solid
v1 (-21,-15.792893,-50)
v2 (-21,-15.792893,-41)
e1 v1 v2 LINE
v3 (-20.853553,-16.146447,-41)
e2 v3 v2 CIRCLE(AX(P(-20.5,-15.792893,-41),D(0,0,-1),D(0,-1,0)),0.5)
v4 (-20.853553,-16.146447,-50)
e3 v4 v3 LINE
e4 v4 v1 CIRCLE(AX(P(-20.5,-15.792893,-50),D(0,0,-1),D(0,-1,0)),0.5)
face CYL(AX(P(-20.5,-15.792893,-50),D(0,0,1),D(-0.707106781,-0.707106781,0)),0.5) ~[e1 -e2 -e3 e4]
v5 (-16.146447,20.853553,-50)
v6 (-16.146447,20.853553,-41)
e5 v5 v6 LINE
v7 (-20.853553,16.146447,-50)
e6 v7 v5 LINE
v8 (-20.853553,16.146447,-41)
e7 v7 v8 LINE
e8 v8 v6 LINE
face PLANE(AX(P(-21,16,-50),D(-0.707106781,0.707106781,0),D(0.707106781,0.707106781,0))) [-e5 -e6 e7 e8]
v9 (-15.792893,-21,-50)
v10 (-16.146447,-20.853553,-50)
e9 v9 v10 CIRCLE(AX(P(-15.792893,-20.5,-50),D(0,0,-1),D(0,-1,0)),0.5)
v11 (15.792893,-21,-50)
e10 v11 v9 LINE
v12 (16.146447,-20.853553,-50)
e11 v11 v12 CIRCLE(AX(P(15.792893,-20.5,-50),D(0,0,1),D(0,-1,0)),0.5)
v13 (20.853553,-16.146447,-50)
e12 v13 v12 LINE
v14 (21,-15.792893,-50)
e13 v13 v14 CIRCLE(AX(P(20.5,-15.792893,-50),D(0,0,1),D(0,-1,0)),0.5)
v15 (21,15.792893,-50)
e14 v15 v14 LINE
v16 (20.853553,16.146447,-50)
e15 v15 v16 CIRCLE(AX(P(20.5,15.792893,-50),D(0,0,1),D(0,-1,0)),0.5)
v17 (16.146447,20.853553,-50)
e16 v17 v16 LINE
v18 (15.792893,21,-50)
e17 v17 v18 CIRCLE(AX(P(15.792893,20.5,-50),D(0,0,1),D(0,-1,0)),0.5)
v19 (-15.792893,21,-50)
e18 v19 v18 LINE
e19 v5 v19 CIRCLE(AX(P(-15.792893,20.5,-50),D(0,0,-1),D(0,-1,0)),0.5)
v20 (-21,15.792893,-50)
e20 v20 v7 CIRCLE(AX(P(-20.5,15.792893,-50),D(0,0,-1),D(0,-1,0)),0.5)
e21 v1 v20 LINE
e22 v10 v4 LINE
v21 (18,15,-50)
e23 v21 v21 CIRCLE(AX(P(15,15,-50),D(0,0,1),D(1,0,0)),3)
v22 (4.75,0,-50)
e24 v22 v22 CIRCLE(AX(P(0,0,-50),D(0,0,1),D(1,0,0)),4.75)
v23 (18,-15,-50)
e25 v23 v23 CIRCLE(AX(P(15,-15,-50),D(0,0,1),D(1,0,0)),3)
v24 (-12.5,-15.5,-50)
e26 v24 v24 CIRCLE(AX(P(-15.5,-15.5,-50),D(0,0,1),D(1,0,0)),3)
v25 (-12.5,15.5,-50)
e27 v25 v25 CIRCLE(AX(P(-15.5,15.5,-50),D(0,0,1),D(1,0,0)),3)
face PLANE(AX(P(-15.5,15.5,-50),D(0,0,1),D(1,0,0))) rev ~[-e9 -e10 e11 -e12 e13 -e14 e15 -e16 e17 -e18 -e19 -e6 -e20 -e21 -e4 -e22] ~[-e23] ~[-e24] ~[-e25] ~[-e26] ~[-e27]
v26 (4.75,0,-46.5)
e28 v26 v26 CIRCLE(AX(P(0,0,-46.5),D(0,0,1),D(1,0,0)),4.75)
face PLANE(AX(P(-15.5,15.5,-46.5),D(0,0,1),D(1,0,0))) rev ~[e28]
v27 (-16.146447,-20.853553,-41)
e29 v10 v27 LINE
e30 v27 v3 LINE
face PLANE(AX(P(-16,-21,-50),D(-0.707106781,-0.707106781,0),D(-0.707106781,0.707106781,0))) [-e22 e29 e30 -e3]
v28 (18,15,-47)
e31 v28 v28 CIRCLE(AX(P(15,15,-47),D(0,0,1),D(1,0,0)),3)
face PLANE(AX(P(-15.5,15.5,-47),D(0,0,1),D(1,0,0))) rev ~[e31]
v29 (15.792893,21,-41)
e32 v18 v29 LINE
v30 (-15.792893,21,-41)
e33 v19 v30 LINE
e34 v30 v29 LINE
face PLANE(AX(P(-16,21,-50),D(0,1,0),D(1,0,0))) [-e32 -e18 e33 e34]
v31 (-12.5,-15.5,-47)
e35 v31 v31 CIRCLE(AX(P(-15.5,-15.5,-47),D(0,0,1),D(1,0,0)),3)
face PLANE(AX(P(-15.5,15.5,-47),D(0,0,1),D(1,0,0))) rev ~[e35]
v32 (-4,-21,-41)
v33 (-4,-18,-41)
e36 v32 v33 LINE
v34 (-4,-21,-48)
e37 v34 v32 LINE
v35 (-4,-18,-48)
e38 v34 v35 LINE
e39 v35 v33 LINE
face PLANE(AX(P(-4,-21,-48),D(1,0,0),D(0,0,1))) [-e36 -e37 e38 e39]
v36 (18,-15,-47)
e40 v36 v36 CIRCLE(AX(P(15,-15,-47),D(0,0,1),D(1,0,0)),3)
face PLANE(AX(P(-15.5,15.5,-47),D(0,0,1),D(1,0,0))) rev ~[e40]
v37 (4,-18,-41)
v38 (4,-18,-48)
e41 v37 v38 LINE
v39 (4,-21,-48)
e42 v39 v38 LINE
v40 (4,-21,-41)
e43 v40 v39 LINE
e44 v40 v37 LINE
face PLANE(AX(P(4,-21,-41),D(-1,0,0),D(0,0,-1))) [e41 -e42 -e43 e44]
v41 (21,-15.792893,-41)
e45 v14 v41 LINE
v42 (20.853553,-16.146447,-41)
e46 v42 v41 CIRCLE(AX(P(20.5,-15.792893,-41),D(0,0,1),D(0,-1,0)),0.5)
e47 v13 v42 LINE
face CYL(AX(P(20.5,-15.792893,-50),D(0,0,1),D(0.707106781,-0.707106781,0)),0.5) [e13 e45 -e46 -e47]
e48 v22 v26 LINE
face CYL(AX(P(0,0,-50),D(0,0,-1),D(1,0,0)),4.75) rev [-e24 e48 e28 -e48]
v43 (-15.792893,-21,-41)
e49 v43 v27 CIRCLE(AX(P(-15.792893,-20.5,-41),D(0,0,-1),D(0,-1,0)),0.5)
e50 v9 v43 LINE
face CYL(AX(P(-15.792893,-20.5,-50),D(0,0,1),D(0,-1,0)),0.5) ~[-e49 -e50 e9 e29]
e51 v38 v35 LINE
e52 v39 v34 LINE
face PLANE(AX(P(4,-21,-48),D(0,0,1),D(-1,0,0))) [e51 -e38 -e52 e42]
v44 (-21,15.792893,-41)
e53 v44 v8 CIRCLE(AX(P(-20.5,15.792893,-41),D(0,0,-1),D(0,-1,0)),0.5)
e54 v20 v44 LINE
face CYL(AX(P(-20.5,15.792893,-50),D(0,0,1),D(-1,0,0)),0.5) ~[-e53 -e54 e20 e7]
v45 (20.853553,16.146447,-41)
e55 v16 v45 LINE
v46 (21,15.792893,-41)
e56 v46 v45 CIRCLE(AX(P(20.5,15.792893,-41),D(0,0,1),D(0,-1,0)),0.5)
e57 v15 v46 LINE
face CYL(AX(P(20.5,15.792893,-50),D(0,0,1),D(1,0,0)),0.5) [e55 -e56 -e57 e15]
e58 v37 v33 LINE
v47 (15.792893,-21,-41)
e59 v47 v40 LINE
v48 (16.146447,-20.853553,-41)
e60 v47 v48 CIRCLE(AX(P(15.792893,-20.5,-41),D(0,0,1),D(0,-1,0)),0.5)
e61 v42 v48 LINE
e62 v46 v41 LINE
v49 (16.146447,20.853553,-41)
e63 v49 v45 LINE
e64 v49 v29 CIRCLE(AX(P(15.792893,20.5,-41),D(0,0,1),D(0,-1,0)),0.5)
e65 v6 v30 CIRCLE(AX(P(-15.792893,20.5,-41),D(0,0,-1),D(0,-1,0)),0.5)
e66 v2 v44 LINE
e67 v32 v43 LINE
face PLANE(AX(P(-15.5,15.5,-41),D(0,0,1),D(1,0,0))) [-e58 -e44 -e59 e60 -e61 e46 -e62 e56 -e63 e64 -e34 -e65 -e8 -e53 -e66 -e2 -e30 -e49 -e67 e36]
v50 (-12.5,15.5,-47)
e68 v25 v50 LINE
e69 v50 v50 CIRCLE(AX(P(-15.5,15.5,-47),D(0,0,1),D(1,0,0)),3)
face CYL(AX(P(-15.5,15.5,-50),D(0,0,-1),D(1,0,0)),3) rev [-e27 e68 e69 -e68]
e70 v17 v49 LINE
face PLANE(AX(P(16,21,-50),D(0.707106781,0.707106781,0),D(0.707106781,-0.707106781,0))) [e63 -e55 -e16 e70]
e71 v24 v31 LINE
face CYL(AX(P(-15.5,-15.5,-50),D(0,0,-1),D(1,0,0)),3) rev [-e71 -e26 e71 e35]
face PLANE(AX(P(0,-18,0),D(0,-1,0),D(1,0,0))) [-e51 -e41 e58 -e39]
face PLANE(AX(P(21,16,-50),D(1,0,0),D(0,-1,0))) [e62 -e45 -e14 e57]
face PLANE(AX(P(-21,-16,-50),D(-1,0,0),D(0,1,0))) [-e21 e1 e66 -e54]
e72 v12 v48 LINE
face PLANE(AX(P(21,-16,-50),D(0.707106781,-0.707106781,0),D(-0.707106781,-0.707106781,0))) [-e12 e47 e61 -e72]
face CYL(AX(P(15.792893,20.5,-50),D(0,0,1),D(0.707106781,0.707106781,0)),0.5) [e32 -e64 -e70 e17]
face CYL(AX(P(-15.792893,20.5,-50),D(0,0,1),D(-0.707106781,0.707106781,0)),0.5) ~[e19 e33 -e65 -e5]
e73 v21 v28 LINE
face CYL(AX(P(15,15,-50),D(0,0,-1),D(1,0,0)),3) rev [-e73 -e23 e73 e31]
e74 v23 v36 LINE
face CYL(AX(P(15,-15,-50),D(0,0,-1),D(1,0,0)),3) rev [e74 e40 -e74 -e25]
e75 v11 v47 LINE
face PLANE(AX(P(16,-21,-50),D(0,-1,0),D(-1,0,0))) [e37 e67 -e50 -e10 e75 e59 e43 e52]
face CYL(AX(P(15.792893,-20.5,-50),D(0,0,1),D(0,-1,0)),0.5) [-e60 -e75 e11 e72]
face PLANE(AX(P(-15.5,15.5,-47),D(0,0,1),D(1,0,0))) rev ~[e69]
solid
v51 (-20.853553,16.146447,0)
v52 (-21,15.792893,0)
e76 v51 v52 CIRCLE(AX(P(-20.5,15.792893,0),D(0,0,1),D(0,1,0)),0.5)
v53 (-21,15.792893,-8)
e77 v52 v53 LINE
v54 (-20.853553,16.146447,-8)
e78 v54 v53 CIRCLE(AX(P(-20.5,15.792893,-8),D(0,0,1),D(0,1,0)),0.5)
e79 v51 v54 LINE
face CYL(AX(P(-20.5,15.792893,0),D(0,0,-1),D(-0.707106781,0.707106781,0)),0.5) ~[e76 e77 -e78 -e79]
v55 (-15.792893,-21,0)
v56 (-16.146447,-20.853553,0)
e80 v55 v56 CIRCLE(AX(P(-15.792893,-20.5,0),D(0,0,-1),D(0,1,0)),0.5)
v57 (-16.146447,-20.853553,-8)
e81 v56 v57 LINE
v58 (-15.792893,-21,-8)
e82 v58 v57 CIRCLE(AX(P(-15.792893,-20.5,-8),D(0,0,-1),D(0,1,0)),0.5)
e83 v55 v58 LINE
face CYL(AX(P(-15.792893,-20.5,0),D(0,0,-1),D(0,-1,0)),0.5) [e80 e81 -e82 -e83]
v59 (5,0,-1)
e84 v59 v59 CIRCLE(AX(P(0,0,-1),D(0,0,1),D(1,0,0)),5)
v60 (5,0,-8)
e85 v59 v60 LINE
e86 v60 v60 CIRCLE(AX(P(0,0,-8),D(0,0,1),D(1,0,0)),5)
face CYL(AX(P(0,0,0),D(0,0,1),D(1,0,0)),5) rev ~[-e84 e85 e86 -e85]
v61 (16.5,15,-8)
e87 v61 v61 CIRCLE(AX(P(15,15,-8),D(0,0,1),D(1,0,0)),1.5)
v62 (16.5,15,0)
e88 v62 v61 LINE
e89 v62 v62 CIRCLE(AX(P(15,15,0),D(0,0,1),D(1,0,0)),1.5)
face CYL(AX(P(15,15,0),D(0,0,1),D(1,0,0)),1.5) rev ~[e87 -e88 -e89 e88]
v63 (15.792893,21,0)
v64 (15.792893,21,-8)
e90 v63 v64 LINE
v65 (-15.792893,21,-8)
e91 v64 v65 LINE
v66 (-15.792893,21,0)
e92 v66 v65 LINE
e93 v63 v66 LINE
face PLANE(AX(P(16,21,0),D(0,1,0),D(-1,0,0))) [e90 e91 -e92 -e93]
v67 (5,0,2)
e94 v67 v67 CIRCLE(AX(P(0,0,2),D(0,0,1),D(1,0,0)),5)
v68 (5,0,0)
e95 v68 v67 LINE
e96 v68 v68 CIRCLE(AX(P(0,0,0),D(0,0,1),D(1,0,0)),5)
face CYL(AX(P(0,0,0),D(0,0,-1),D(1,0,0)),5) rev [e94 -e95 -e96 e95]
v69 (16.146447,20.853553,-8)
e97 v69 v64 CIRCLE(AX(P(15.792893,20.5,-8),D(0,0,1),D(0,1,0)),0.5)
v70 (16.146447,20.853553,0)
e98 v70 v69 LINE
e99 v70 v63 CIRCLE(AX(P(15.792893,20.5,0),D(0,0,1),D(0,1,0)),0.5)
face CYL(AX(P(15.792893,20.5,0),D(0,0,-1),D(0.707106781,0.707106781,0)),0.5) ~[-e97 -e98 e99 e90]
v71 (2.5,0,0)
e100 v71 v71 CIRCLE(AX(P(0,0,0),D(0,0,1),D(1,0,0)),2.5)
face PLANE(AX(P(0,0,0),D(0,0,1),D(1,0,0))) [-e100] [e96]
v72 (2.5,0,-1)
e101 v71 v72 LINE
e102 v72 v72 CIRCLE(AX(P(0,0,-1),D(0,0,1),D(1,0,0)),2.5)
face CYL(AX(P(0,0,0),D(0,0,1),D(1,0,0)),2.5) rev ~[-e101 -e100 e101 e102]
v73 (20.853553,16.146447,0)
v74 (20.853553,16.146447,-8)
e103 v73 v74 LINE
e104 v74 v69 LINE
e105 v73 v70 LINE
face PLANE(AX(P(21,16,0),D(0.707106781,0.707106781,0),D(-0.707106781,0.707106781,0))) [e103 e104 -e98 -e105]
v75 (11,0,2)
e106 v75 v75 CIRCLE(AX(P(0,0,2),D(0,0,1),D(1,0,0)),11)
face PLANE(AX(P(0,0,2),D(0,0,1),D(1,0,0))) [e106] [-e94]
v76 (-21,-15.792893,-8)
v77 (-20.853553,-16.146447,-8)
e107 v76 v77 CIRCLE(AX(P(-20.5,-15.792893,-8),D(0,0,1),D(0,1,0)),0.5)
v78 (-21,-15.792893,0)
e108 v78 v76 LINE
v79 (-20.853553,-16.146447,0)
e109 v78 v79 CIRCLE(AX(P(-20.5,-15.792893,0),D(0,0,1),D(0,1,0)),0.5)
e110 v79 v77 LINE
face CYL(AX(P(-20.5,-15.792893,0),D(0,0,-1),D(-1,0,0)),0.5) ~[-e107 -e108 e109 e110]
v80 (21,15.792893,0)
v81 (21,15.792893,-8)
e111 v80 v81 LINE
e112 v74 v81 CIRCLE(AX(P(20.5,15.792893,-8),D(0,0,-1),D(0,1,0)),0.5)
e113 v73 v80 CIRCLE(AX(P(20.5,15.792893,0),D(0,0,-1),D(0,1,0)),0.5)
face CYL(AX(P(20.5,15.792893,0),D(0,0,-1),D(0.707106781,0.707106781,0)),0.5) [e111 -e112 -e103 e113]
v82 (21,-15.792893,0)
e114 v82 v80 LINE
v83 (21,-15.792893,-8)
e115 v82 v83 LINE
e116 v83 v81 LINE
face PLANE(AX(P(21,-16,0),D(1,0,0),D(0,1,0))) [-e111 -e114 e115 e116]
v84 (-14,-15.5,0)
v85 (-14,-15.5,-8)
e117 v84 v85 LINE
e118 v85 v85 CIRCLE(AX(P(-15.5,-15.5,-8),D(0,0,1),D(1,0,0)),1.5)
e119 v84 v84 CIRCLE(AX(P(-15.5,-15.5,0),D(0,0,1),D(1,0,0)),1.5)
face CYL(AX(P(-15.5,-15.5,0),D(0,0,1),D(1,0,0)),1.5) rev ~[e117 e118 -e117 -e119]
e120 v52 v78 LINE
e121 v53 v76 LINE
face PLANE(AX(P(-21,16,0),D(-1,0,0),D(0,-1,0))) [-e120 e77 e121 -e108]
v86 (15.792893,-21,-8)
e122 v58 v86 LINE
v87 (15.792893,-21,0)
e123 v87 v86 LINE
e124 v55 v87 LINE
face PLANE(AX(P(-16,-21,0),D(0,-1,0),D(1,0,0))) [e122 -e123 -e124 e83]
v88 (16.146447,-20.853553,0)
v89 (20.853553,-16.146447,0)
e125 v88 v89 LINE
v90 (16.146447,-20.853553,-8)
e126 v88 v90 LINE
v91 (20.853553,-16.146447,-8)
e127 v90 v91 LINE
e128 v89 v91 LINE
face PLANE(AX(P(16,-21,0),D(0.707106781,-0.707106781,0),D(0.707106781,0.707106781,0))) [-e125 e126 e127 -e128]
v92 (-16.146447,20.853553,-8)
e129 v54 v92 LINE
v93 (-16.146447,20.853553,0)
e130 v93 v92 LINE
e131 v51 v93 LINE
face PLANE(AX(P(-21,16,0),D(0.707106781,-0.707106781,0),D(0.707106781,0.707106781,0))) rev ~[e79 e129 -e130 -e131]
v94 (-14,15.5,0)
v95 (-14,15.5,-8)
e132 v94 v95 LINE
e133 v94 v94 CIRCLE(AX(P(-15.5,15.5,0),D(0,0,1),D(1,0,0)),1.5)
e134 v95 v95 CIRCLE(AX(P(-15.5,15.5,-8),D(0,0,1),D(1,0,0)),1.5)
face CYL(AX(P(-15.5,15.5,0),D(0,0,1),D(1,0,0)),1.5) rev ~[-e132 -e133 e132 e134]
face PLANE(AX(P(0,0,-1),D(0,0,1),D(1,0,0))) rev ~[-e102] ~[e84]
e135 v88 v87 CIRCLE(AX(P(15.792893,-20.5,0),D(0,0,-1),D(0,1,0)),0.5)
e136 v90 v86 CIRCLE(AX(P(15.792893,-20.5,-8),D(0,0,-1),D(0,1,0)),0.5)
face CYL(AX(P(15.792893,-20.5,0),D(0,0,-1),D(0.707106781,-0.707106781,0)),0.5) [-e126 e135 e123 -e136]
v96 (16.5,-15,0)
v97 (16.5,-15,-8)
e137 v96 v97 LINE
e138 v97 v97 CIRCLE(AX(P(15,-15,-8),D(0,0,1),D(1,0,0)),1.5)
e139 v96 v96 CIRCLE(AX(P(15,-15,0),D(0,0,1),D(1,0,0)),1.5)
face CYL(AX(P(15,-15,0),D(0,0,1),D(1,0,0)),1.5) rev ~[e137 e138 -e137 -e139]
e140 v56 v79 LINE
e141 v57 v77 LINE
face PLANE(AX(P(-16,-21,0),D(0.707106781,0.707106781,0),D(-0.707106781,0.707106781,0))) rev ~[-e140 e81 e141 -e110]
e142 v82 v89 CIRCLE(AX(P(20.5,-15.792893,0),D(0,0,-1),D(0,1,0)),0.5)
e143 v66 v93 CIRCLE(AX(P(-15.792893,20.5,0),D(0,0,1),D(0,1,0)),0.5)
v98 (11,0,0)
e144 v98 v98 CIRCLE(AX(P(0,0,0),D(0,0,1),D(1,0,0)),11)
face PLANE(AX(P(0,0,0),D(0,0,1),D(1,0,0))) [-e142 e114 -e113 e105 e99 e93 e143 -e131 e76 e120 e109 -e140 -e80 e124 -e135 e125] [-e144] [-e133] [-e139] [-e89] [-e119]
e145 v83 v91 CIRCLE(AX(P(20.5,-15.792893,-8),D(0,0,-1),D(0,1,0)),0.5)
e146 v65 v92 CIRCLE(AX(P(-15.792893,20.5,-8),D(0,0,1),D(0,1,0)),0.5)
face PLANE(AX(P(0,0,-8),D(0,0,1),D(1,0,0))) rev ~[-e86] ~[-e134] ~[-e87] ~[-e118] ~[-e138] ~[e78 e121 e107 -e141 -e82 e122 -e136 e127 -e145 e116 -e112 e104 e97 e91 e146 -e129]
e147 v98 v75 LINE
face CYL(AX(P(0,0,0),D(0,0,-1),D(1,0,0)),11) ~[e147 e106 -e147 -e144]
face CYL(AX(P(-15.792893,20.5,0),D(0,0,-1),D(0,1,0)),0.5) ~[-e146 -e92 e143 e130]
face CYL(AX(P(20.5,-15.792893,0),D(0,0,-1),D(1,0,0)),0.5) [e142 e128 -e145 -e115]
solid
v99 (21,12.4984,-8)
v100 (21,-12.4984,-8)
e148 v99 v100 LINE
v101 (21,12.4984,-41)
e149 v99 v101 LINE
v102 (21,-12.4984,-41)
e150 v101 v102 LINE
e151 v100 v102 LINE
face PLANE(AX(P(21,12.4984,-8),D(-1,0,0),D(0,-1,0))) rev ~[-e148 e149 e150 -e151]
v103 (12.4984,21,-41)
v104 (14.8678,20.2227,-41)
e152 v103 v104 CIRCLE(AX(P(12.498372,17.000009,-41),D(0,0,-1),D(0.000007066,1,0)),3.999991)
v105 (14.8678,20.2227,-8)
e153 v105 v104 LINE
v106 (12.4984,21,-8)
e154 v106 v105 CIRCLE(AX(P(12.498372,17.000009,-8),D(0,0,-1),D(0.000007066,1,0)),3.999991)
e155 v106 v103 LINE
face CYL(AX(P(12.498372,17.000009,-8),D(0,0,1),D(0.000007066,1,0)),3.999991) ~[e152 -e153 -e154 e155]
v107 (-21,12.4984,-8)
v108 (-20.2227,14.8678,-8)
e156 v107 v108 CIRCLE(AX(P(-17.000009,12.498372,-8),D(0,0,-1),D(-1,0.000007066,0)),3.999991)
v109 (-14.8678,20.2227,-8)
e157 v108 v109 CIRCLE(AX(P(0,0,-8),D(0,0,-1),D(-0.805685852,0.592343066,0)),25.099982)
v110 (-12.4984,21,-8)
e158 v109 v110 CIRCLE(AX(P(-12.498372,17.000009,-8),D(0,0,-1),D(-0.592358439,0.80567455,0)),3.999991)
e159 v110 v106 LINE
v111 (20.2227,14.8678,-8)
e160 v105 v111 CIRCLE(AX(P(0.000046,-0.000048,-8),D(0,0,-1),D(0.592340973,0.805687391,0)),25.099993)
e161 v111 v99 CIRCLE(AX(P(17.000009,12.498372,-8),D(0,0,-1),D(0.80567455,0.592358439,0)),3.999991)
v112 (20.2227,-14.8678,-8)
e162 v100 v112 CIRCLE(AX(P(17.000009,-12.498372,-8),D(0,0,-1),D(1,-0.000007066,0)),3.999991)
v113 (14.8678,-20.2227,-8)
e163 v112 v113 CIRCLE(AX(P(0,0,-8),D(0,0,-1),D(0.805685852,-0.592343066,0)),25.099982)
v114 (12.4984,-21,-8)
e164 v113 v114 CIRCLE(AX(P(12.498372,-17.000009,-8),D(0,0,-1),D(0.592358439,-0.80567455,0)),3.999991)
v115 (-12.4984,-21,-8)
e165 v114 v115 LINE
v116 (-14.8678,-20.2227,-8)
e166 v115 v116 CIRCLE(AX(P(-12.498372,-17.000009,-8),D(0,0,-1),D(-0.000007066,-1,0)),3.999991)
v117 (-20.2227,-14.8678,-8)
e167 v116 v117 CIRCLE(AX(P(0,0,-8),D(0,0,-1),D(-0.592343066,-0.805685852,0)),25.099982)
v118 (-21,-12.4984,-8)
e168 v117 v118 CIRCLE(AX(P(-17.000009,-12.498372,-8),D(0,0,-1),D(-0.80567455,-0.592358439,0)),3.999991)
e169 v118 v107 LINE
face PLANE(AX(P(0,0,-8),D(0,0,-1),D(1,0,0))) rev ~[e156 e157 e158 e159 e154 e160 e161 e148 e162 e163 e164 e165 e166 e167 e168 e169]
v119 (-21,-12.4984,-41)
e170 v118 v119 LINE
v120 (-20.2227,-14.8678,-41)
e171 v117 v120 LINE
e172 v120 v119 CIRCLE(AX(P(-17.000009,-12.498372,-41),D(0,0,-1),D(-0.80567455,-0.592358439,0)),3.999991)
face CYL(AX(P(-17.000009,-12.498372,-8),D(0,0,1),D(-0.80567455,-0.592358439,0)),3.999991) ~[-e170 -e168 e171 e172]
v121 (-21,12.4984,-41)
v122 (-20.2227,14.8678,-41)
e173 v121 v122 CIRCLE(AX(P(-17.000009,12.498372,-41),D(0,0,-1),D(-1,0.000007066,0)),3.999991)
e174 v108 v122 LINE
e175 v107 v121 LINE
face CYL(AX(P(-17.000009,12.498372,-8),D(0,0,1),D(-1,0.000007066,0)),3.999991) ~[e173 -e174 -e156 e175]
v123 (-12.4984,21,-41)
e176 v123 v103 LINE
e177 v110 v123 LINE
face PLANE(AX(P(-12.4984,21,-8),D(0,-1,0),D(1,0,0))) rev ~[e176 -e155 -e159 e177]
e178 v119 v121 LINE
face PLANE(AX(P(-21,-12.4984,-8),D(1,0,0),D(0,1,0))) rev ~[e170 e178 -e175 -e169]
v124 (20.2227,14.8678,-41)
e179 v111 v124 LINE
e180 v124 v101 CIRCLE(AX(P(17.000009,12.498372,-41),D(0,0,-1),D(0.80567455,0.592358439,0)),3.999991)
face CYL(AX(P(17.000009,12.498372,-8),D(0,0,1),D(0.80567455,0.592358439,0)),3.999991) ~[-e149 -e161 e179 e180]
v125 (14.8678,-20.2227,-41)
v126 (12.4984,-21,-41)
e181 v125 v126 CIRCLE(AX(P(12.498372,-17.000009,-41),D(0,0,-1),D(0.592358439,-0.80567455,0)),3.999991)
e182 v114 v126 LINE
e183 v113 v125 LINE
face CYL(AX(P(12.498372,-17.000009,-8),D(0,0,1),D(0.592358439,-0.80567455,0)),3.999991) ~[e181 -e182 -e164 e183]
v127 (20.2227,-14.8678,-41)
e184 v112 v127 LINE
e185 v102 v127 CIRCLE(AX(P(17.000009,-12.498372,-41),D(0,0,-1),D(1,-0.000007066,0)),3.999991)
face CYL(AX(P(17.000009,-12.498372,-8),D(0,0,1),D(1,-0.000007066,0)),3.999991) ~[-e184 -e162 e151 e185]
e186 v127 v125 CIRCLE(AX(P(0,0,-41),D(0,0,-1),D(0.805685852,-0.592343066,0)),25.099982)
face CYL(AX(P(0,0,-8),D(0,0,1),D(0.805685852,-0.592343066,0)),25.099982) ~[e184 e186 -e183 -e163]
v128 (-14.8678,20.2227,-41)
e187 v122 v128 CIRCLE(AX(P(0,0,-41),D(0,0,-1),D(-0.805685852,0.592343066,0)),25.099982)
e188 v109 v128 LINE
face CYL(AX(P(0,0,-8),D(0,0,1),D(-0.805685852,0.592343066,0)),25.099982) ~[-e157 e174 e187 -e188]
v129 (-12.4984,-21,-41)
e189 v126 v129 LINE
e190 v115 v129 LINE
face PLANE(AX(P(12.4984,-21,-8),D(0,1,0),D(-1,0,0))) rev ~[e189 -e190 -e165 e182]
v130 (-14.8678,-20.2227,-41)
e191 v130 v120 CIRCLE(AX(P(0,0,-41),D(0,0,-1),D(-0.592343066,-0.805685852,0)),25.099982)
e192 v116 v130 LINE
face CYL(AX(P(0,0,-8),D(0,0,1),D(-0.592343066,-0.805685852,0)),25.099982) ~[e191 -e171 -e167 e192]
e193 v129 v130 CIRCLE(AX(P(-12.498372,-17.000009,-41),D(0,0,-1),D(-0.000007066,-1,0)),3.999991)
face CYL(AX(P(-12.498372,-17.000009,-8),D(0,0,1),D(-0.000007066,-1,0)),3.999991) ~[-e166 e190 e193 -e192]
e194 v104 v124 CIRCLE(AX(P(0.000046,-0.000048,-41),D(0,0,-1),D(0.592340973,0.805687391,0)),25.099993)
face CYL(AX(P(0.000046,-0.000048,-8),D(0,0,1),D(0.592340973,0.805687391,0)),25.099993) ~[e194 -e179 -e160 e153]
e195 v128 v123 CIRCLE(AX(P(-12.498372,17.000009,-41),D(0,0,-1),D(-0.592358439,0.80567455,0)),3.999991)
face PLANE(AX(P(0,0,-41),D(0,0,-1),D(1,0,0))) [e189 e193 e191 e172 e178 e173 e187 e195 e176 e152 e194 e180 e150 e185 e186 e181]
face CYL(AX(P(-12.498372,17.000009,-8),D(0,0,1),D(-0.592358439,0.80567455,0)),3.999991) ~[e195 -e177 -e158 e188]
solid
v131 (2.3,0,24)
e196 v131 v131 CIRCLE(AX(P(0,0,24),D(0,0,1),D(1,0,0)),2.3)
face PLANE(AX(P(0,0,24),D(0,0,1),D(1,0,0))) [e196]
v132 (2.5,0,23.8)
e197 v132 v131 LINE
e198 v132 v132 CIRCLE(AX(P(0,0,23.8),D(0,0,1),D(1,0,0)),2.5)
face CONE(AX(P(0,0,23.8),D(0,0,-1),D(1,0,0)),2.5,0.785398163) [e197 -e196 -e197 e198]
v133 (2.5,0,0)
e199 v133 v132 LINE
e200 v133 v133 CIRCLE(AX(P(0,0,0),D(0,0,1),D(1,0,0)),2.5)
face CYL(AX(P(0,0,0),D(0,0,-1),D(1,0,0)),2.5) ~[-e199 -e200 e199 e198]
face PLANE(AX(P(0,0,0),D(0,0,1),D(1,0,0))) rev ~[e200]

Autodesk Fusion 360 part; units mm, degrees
sketch "Sketch1" plane through (0, 0, 0) normal (0, 0, 1) x (1, 0, 0) in component "Component"
  line L0 (16, 21) -> (-16, 21)
  line L1 (-21, 16) -> (-21, -16)
  line L2 (-16, -21) -> (16, -21)
  line L3 (21, -16) -> (21, 16)
  line L4 (21, 21) -> (-21, -21) construction
  line L5 (-21, 21) -> (21, -21) construction
  line L6 (-15.6506, 22.8547) -> (-16, 22.8547)
  line L7 (-21, 16) -> (-16, 21)
  line L8 (21, 16) -> (16, 21)
  line L9 (-16, -21) -> (-21, -16)
  line L10 (16, -21) -> (21, -16)
  circle A0 centre (-15.5, 15.5) radius 1.5
  circle A1 centre (15, 15) radius 1.5
  circle A2 centre (15, -15) radius 1.5
  circle A3 centre (-15.5, -15.5) radius 1.5
  circle A4 centre (0, 0) radius 11
  circle A5 centre (0, 0) radius 5
  circle A6 centre (0, 0) radius 2.5
  dimension "d3" = 3
  dimension "d4" = 15.5
  dimension "d5" = 15.5
  dimension "d6" = 5
extrude "Extrude1" add sketch "Sketch1" along normal blind 2 contours A4 makes body 1 in component "Component"
extrude "Extrude2" add sketch "Sketch1" along normal blind 24 separate body contours A6 makes body 2 in component "Component"
extrude "Extrude3" add sketch "Sketch1" against normal blind 1 separate body contours A5 makes body 3 in component "Component"
extrude "Extrude4" add sketch "Sketch1" against normal blind 8 contours L0 L1 L2 L3 L7 L8 L9 L10 | A4 bodies 1 3 in component "Component"
sketch "Sketch2" plane through (0, 0, -8) normal (0, 0, -1) x (1, 0, 0) in component "Component"
  circle A0 centre (15, 15) radius 1.5
  circle A1 centre (15, -15) radius 1.5
  circle A2 centre (0, 0) radius 5
  circle A3 centre (-15.5, 15.5) radius 1.5
  circle A4 centre (-15.5, -15.5) radius 1.5
  line L0 (16, 21) -> (-16, 21)
  line L1 (-16, 21) -> (-21, 16)
  line L2 (-21, 16) -> (-21, -16)
  line L3 (-21, -16) -> (-16, -21)
  line L4 (-16, -21) -> (16, -21)
  line L5 (16, -21) -> (21, -16)
  line L6 (21, -16) -> (21, 16)
  line L7 (21, 16) -> (16, 21)
  line L8 (12.4984, 21) -> (-12.4984, 21)
  line L9 (-21, 12.4984) -> (-21, -12.4984)
  line L10 (-12.4984, -21) -> (12.4984, -21)
  line L11 (21, -12.4984) -> (21, 12.4984)
  line L12 (21, 21) -> (-21, -21) construction
  line L13 (-21, 21) -> (21, -21) construction
  arc A5 (-14.8678, 20.2227) -> (-20.2227, 14.8678) centre (0, 0) ccw
  arc A6 (20.2227, 14.8678) -> (14.8678, 20.2227) centre (0, 0) ccw
  arc A7 (-20.2227, -14.8678) -> (-14.8678, -20.2227) centre (0, 0) ccw
  arc A8 (14.8678, -20.2227) -> (21, -13.7481) centre (0, 0) ccw
  arc A9 (-12.4984, 21) -> (-14.8678, 20.2227) centre (-12.4984, 17) ccw
  arc A10 (-20.2227, 14.8678) -> (-21, 12.4984) centre (-17, 12.4984) ccw
  arc A11 (14.8678, 20.2227) -> (12.4984, 21) centre (12.4984, 17) ccw
  arc A12 (20.2227, -14.8678) -> (21, -12.4984) centre (17, -12.4984) ccw
  arc A13 (21, 12.4984) -> (20.2227, 14.8678) centre (17, 12.4984) ccw
  arc A14 (12.4984, -21) -> (14.8678, -20.2227) centre (12.4984, -17) ccw
  arc A15 (-14.8678, -20.2227) -> (-12.4984, -21) centre (-12.4984, -17) ccw
  arc A16 (-21, -12.4984) -> (-20.2227, -14.8678) centre (-17, -12.4984) ccw
  dimension "d15" = 42
  dimension "d16" = 42
  dimension "d17" = 50.2
  dimension "d18" = 4
  dimension "d19" = 4
  dimension "d20" = 4
  dimension "d21" = 4
  dimension "d22" = 4
  dimension "d23" = 4
  dimension "d24" = 4
  dimension "d25" = 4
extrude "Extrude5" add sketch "Sketch2" along normal blind 33 separate body contours A0 | A1 | A2 | A3 | A4 | L0 L2 L4 L6 L8 L9 L10 L11 A5 A6 A7 A8 A9 A10 A11 A12 A13 A14 A15 A16 makes body 4 in component "Component"
ref_plane "WorkPlane1" through (0, 0, -50) normal (0, 0, 1) x (1, 0, 0) in component "Component"
sketch "Sketch3" plane through (-15.5, 15.5, -50) normal (0, 0, 1) x (1, 0, 0) in component "Component"
  circle A0 centre (15.5, -15.5) radius 4.75
  line L0 (31.5, -36.5) -> (-0.5, -36.5)
  line L1 (-0.5, -36.5) -> (-5.5, -31.5)
  line L2 (-5.5, -31.5) -> (-5.5, 0.5)
  line L3 (-5.5, 0.5) -> (-0.5, 5.5)
  line L4 (-0.5, 5.5) -> (31.5, 5.5)
  line L5 (31.5, 5.5) -> (36.5, 0.5)
  line L6 (36.5, 0.5) -> (36.5, -31.5)
  line L7 (36.5, -31.5) -> (31.5, -36.5)
  circle A1 centre (30.5, -30.5) radius 3
  circle A2 centre (30.5, -0.5) radius 3
  circle A3 centre (0, -31) radius 3
  circle A4 centre (0, 0) radius 3
  dimension "d29" = 6
  dimension "d30" = 6
  dimension "d31" = 6
  dimension "d32" = 6
  dimension "d33" = 9.5
extrude "Extrude6" add sketch "Sketch3" along normal blind 9 separate body contours A0 | L0 L1 L2 L3 L4 L5 L6 L7 | A1 | A2 | A3 | A4 makes body 5 in component "Component"
extrude "Extrude8" cut sketch "Sketch3" along normal blind 3 contours A1 | A2 | A3 | A4 bodies 5 in component "Component"
extrude "Extrude9" cut sketch "Sketch3" along normal blind 3.5 contours A0 bodies 5 in component "Component"
chamfer "Chamfer1" distance 0.2 angle 45 1 edges at (-2.3308, -0.904, 24) on bodies 2 in component "Component"
fillet "Fillet1" radius 0.5 16 edges at (16, 21, -4) (21, 16, -4) (21, -16, -4) (16, -21, -4) (-16, -21, -4) (-21, -16, -4) (-21, 16, -4) (-16, 21, -4) (16, 21, -45.5) (21, 16, -45.5) (21, -16, -45.5) (16, -21, -45.5) (-21, -16, -45.5) (-16, -21, -45.5) (-16, 21, -45.5) (-21, 16, -45.5) on bodies 1 5 in component "Component"
sketch "Sketch4" plane through (0, -21, 0) normal (0, -1, 0) x (1, 0, 0) in component "Component"
  line L0 (-15.7929, -41) -> (-15.7929, -50)
  line L1 (-15.7929, -50) -> (15.7929, -50)
  line L2 (15.7929, -50) -> (15.7929, -41)
  line L3 (15.7929, -41) -> (-15.7929, -41)
  line L4 (-4, -41) -> (4, -41)
  line L5 (4, -41) -> (4, -48)
  line L6 (4, -48) -> (-4, -48)
  line L7 (-4, -48) -> (-4, -41)
  line L8 (0, -50) -> (0, -26) construction
  dimension "d53" = 8
  dimension "d54" = 7
  dimension "d55" = 4
extrude "Extrude10" cut sketch "Sketch4" against normal blind 3 contours L3 L4 L5 L6 L7 bodies 5 in component "Component"
thread "Thread1" thread length 5 thread offset 0 in component "Component"
thread "Thread2" thread length 5 thread offset 0 in component "Component"
component "Component" placed x (1, 0, 0) y (0, 1, 0) z (0, 0, 1) at (0, 0, 0)
equation "d4 = ( 31 / 2 ) * 1 mm"
equation "d5 = d4"
equation "d9 = AxleLength"
equation "d26 = MotorLength - BackCoverLength - FrontCoverLength"
equation "d34 = BackCoverLength"
equation "MotorLength = 50 mm"
equation "AxleLength = 24 mm"
equation "FrontCoverLength = 8 mm"
equation "BackCoverLength = 9 mm"
